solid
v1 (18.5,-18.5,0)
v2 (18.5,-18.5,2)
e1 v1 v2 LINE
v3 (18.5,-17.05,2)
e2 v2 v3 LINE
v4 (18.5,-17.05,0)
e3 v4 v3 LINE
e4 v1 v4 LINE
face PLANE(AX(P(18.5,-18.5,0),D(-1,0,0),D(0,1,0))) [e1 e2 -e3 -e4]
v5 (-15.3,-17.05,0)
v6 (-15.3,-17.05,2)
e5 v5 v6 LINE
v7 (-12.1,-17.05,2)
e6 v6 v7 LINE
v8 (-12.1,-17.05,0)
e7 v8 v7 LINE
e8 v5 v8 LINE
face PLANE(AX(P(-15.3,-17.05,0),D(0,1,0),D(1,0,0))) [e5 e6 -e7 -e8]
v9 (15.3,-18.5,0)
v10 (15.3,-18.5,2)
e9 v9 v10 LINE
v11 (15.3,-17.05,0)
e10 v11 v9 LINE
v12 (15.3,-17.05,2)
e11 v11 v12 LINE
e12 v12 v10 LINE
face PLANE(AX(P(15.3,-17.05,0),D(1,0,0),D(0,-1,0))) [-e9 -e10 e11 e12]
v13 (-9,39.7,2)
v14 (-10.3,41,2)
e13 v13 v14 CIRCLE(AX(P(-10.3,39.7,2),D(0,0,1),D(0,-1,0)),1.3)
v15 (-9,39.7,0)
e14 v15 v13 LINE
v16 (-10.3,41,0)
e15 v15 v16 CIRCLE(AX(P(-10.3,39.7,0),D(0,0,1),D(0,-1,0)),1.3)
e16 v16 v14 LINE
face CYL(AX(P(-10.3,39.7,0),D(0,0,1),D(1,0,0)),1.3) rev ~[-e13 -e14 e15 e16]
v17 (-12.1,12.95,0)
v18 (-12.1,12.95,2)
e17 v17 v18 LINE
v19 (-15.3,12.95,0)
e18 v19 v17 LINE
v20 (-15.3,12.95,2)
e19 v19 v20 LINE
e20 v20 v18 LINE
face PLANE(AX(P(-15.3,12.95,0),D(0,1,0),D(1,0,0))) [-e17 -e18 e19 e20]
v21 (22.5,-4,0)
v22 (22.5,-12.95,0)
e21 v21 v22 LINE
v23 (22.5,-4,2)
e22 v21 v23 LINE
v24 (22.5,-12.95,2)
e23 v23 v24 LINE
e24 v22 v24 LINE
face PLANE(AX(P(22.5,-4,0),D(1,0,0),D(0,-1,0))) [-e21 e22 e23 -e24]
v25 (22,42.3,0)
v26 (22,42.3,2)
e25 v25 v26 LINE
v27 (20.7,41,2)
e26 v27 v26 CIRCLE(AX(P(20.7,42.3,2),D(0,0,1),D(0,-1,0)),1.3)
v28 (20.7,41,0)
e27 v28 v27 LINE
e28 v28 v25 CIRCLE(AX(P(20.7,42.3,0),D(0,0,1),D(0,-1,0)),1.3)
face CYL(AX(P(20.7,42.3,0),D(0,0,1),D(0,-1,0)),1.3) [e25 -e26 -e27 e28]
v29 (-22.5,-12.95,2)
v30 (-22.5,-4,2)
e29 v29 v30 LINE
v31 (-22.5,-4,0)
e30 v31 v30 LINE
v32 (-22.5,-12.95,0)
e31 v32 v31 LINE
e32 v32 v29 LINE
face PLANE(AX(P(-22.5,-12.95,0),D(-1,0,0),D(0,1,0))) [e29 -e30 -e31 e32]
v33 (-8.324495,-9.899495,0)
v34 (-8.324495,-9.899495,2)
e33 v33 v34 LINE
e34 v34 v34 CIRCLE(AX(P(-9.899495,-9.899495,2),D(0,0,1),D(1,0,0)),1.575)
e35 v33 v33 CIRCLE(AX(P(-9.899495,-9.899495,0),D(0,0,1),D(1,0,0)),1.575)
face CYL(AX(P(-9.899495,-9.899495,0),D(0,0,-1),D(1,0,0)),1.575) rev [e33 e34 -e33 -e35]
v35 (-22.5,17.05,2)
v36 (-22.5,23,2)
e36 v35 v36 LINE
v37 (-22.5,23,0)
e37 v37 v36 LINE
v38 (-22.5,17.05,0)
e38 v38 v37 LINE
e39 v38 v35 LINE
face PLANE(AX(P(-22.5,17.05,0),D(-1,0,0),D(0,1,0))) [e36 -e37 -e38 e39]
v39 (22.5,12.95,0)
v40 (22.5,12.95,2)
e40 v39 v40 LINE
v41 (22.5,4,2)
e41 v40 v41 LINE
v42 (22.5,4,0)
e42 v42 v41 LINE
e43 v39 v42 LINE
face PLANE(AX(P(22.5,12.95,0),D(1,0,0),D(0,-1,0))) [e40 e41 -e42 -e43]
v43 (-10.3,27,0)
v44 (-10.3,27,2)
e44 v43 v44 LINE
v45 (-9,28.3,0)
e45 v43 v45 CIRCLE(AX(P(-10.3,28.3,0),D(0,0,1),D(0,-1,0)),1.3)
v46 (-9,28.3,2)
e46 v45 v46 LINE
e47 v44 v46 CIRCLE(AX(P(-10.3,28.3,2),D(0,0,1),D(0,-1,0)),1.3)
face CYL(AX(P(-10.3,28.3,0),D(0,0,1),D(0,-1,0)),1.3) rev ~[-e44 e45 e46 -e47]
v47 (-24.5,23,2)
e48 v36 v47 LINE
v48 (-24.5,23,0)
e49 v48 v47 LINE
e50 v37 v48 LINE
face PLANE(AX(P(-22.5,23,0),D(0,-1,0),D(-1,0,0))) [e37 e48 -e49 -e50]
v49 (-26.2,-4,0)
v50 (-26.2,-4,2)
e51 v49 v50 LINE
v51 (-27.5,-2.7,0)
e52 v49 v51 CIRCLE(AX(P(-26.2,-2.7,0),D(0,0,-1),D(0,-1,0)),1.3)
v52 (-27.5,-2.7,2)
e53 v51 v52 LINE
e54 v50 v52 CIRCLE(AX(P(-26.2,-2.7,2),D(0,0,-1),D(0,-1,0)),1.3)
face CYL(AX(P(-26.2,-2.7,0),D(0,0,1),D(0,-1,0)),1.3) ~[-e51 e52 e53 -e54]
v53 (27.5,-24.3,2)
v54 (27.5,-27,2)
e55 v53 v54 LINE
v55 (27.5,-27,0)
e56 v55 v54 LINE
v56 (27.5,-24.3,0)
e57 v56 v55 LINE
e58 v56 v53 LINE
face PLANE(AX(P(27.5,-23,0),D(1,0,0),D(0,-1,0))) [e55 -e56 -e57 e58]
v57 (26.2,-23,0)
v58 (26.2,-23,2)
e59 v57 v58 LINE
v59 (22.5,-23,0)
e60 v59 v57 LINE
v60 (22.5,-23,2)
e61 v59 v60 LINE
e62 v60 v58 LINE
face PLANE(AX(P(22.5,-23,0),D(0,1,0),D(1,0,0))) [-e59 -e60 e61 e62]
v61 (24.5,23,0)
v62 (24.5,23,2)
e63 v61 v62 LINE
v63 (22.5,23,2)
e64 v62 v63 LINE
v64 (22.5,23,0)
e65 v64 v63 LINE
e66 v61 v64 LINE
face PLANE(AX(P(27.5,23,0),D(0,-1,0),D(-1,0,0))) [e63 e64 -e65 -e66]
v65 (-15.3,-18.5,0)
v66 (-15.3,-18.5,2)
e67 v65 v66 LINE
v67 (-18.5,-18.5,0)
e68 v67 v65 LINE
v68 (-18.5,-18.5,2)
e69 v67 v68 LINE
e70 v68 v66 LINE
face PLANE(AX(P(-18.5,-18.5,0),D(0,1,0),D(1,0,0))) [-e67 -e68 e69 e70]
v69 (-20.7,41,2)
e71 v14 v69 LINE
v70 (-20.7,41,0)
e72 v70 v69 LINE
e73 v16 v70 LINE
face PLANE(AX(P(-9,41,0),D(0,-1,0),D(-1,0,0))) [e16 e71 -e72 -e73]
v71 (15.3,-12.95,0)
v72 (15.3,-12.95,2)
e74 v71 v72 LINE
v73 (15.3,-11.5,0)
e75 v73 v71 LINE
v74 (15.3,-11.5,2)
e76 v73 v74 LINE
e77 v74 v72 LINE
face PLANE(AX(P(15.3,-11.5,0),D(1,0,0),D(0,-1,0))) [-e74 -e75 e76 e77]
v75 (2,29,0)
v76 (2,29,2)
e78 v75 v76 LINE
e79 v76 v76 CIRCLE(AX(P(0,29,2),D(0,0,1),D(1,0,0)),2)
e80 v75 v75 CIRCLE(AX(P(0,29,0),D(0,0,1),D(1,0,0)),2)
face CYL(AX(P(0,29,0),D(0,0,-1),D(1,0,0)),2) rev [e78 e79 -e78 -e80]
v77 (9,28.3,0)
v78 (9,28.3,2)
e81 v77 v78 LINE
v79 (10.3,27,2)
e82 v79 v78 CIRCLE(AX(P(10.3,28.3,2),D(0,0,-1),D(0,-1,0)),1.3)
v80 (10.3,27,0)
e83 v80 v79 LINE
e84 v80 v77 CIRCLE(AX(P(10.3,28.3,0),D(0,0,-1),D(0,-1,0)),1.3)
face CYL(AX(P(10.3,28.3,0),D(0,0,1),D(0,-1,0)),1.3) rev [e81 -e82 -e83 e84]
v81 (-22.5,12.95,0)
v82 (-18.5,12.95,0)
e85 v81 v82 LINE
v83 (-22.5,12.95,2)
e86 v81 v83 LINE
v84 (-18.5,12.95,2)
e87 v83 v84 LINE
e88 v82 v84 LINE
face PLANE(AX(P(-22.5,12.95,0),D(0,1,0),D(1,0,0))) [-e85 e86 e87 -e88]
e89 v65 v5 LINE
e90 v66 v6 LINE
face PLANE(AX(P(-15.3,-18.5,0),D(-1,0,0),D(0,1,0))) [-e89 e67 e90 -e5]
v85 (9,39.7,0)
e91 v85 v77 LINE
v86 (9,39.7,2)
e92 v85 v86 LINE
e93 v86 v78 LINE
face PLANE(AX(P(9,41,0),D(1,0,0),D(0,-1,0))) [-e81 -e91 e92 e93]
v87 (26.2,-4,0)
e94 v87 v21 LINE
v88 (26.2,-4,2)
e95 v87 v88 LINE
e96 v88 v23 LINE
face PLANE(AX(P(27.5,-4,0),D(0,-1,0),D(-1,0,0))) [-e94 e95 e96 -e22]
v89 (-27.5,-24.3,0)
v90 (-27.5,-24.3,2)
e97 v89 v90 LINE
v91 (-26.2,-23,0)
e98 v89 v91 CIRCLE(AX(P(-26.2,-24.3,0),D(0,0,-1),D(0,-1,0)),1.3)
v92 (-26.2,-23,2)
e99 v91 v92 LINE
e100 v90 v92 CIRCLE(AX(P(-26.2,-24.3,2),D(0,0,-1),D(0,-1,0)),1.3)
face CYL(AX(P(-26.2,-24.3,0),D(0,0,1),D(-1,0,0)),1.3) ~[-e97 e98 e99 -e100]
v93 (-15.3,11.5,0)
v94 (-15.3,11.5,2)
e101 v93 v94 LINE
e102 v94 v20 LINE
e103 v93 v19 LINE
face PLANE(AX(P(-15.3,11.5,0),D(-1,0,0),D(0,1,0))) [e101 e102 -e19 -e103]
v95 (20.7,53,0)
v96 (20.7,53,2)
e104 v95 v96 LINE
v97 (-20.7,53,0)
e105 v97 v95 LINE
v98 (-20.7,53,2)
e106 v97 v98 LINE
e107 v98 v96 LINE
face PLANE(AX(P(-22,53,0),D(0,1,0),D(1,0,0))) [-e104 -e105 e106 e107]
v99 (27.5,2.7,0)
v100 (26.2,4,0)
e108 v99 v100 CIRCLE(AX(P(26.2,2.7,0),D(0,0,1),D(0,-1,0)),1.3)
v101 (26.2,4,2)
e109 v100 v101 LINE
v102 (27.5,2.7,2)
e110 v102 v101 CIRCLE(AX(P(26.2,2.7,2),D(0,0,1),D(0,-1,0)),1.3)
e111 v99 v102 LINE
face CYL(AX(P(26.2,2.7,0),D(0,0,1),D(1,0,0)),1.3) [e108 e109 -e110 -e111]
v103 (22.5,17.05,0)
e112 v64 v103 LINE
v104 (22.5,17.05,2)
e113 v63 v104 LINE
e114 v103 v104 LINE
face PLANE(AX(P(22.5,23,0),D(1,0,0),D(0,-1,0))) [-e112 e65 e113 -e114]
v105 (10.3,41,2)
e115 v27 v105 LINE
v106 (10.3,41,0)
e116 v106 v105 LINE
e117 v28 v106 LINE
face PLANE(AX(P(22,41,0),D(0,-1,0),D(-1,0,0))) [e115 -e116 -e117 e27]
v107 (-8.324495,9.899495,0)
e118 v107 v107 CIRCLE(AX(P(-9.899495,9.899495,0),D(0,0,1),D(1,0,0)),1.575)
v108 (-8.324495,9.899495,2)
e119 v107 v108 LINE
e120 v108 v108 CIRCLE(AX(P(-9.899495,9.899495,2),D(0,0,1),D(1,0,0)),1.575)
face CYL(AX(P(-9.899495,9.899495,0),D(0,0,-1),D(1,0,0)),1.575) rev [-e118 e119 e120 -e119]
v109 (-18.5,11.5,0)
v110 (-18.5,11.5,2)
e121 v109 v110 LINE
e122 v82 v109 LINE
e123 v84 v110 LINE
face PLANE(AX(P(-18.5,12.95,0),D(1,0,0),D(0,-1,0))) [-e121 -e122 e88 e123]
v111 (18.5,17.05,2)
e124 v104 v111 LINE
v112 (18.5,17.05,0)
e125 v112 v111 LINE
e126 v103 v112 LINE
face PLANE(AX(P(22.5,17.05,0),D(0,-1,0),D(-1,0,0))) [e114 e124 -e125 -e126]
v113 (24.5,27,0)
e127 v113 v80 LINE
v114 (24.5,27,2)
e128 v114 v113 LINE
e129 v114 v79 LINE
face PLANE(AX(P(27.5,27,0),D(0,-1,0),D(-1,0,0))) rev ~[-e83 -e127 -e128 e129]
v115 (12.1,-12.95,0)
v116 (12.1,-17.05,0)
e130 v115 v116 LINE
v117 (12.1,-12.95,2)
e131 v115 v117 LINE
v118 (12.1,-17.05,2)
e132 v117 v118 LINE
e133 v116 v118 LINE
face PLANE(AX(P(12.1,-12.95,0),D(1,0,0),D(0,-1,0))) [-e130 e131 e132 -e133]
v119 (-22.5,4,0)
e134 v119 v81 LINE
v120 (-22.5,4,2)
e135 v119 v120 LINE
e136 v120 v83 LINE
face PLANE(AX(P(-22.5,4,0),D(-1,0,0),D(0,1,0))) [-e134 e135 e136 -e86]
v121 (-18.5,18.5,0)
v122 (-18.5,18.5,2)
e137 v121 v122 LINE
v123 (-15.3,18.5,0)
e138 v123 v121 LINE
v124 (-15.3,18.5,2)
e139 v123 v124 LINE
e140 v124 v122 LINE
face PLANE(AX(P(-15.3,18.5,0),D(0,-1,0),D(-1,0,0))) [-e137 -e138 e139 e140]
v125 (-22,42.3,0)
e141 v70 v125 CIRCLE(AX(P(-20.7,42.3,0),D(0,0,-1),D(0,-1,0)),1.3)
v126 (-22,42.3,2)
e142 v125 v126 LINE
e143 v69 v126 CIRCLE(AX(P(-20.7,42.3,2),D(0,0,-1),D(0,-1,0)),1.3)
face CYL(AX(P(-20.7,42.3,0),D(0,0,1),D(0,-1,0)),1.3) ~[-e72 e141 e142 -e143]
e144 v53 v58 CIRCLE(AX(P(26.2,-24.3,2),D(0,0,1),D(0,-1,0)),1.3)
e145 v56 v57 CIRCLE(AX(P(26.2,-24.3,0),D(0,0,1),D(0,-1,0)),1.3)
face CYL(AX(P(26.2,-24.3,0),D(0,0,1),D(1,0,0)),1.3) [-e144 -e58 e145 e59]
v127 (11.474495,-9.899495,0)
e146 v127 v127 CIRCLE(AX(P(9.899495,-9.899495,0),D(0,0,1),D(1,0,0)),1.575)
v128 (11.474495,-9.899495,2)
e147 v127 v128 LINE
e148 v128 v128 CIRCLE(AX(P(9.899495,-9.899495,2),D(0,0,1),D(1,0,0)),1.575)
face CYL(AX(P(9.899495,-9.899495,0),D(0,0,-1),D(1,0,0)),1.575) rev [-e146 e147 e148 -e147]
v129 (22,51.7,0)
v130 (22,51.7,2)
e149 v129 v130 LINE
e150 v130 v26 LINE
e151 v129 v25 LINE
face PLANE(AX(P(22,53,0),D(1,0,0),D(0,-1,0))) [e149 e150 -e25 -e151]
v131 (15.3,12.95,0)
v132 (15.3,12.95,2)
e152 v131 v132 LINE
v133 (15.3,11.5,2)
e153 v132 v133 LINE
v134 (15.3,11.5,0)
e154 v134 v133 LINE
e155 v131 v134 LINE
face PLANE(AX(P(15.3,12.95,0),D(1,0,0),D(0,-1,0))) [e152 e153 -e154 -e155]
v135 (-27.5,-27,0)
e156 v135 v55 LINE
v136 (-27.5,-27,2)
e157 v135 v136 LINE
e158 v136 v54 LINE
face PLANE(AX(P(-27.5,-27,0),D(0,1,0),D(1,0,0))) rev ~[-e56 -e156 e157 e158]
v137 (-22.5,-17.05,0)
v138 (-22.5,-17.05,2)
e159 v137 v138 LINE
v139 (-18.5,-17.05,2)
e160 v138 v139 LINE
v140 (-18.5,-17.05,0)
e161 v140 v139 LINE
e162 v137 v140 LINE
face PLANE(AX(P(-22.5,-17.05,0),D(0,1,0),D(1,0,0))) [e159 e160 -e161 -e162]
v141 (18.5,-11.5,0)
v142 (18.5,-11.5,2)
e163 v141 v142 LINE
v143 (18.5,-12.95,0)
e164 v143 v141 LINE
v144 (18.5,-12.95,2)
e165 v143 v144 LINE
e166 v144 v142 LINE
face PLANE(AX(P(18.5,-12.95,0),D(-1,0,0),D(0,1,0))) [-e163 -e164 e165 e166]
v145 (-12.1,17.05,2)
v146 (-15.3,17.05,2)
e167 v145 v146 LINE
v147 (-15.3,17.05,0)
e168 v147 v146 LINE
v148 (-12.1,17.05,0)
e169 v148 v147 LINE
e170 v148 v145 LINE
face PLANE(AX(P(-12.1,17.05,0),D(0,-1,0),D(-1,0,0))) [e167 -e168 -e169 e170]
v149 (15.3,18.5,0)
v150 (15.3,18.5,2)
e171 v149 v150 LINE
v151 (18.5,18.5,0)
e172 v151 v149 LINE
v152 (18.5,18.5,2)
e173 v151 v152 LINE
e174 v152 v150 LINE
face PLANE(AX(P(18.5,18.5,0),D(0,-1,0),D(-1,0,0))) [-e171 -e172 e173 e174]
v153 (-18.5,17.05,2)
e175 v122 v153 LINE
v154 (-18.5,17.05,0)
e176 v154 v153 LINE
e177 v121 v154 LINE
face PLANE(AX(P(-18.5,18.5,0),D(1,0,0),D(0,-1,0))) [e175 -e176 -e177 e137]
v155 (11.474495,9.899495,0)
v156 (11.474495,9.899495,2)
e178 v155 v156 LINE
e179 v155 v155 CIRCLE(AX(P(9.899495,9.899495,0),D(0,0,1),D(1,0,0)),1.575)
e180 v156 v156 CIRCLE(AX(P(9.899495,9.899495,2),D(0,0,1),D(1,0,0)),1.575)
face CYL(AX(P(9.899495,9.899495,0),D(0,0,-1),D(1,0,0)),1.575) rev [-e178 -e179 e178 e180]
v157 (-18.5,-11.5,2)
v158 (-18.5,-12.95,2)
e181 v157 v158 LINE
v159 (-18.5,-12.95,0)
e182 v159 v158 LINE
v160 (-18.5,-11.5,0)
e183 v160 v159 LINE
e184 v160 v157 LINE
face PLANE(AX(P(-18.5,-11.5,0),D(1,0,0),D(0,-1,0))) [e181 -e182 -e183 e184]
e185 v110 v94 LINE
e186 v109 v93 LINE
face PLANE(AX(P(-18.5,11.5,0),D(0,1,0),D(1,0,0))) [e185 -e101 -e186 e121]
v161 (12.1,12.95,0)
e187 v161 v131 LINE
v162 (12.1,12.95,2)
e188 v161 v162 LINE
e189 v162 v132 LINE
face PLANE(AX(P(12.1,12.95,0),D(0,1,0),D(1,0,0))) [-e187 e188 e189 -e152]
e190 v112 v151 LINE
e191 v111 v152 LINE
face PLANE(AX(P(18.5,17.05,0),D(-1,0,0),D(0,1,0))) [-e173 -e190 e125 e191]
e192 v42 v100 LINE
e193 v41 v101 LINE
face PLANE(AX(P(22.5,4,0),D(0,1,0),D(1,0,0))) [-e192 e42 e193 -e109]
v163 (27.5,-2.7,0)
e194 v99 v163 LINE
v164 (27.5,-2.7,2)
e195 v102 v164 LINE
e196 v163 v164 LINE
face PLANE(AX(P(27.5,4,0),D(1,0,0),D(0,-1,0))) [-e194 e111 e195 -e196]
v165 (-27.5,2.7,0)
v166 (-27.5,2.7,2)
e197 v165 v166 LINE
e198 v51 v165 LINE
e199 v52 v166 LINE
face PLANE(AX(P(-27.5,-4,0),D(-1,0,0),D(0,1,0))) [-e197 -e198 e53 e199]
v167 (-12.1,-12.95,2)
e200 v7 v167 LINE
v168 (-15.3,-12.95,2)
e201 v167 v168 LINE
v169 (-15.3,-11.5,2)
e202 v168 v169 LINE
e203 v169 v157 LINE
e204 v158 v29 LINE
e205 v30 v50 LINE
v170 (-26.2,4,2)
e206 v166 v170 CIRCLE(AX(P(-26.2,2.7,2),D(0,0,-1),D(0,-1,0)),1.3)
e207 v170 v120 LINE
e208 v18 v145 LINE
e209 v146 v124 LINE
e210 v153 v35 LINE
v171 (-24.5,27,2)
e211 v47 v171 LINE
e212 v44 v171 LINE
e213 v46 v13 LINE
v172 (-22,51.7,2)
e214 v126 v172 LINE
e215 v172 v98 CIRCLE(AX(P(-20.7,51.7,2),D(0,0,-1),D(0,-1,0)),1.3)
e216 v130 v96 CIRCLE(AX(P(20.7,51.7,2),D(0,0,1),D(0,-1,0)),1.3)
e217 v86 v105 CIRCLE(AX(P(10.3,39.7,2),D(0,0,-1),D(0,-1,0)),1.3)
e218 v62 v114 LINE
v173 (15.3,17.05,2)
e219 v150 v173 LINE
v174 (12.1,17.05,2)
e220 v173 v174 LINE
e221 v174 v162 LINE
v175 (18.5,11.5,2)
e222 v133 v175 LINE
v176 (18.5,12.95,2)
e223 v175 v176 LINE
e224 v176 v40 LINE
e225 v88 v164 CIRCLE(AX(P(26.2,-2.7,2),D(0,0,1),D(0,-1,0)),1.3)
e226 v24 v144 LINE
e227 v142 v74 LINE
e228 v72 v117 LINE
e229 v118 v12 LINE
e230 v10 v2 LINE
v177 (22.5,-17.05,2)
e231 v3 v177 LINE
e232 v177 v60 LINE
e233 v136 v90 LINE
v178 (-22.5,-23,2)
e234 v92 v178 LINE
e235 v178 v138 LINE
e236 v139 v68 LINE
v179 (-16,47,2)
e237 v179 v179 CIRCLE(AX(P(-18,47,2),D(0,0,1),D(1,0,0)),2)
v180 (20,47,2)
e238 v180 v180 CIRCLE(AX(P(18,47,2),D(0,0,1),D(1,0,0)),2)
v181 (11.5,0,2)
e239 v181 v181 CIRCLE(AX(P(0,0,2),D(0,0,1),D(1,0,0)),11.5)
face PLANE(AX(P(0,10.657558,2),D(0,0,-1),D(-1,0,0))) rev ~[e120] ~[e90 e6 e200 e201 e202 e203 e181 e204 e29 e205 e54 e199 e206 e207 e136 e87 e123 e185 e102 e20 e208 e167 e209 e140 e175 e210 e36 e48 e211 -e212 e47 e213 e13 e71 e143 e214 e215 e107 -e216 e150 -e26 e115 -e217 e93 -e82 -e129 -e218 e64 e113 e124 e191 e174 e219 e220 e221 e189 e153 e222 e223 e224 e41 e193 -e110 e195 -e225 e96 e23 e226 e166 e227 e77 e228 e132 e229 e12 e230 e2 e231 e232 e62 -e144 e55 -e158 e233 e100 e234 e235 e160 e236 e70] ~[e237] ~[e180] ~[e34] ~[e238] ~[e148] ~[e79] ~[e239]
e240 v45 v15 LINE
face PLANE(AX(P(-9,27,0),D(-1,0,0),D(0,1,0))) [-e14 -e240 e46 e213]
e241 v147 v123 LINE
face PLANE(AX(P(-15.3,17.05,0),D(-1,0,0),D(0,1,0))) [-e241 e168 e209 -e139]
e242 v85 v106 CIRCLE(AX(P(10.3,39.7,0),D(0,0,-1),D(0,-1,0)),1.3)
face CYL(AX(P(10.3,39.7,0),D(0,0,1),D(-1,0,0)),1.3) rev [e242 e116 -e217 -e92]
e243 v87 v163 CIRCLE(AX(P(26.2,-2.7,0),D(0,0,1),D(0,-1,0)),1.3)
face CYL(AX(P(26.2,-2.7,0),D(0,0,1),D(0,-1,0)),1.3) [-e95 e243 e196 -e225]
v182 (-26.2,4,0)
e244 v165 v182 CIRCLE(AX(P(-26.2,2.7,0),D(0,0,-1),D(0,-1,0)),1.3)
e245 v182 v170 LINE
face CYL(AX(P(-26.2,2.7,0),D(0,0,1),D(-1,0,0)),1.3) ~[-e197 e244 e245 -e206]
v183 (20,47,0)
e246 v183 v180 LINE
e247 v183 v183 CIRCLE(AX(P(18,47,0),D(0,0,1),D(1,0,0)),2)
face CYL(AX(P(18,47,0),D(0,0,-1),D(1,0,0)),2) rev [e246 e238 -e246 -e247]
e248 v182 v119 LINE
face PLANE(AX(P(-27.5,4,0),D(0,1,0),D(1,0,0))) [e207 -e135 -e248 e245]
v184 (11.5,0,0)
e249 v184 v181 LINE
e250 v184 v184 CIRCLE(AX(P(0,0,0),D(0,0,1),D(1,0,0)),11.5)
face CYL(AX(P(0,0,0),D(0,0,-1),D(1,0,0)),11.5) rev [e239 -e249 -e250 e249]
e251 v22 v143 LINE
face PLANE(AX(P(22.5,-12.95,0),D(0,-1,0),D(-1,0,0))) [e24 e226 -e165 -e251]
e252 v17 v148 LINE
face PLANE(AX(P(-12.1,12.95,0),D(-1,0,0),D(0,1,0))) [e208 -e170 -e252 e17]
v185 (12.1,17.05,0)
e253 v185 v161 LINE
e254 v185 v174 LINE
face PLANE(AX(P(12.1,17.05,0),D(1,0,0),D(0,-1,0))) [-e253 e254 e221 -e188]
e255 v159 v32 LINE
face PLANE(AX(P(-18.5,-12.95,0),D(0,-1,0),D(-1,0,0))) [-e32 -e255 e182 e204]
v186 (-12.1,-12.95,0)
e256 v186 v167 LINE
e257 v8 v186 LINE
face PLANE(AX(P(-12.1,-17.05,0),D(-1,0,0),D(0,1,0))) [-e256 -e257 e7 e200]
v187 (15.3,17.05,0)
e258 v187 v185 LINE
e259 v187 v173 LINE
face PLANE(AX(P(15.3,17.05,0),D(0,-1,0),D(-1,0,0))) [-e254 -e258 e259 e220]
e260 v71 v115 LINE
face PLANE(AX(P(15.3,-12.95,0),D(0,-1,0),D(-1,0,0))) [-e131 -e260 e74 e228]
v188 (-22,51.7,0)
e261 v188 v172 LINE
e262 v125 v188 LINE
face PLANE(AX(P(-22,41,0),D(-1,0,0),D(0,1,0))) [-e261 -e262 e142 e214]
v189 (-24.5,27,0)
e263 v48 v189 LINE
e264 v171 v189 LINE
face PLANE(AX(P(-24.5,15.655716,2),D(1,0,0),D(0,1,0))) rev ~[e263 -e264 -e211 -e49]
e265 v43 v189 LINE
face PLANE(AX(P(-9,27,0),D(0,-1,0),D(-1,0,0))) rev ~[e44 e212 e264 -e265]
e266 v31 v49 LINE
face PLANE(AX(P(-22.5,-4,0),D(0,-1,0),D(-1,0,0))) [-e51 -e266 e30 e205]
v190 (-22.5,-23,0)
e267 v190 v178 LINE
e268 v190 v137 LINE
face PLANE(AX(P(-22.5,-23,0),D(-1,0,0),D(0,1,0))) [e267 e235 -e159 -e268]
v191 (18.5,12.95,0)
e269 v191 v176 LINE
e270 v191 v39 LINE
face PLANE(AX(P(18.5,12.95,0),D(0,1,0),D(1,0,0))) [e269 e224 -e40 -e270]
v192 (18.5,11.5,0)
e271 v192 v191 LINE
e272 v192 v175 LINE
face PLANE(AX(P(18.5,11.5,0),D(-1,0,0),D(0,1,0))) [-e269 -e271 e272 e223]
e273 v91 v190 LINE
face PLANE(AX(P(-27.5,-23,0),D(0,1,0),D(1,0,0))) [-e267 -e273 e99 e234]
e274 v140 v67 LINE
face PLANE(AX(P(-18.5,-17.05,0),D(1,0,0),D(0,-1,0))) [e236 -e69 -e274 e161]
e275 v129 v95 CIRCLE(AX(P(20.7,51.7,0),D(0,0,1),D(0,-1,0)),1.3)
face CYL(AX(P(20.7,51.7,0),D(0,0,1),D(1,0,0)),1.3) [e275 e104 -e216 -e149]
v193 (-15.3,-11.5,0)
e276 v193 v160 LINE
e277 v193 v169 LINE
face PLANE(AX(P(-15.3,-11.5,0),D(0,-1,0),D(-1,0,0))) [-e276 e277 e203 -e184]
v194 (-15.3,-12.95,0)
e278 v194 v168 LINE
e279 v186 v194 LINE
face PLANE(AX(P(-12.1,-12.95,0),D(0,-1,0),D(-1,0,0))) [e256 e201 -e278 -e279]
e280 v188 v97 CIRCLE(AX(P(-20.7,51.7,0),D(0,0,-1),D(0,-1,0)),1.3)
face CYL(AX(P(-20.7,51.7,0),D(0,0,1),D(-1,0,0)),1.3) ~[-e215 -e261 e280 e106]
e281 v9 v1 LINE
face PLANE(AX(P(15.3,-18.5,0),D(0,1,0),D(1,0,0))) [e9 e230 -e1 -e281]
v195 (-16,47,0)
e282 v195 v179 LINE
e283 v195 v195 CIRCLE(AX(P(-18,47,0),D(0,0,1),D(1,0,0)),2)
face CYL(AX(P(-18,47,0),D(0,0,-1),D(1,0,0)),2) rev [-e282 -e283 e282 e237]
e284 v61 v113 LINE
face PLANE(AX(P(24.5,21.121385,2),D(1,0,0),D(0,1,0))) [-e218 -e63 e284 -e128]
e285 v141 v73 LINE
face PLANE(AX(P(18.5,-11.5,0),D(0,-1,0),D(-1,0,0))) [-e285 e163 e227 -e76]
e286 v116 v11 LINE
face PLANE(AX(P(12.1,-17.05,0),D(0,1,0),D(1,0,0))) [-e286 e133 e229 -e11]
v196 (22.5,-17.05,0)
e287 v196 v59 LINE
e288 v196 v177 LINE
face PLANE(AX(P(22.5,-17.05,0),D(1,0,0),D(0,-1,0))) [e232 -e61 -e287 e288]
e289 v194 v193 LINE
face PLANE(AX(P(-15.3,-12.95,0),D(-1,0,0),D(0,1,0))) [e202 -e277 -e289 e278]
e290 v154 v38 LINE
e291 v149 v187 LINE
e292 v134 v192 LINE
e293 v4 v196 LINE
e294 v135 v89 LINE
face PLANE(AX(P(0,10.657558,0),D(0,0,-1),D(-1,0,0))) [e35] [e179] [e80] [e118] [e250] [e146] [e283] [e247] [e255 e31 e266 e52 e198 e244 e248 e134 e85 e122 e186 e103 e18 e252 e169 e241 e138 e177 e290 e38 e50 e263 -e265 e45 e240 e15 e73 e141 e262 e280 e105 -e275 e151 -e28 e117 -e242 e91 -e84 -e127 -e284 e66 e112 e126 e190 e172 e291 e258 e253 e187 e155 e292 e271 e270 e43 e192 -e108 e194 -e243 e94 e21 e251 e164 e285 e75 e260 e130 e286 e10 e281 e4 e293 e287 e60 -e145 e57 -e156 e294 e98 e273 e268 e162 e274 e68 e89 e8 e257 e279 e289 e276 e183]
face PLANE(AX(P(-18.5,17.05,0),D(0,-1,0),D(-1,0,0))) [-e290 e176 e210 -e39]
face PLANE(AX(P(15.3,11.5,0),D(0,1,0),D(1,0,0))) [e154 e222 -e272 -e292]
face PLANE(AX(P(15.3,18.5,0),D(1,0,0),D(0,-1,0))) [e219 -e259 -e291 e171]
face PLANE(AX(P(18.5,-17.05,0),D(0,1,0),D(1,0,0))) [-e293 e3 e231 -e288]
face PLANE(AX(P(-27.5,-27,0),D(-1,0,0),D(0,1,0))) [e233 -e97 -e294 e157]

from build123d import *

# Parameters (mm, degrees)
SKETCH_1_R          = 1.575
SKETCH_1_R_2        = 11.5
SKETCH_1_R_3        = 2
EXTRUDE_1_DEPTH     = 2
FILLET_1_R          = 1.3
SKETCH_4_W          = 3
SKETCH_4_H          = 5.878615105
SKETCH_4_H_2        = 11.344283934
CUT_EXTRUDE_1_DEPTH = 2


with BuildPart() as part:
    # 草图1 → 凸台-拉伸1 (new body)
    with BuildSketch(Plane.XY):
        Polygon((22.5, -27), (-22.5, -27), (-27.5, -27), (-27.5, -23), (-22.5, -23), (-22.5, -17.05), (-18.5, -17.05), (-18.5, -18.5), (-15.3, -18.5), (-15.3, -17.05), (-12.1, -17.05), (-12.1, -12.95), (-15.3, -12.95), (-15.3, -11.5), (-18.5, -11.5), (-18.5, -12.95), (-22.5, -12.95), (-22.5, -4), (-27.5, -4), (-27.5, 4), (-22.5, 4), (-22.5, 12.95), (-18.5, 12.95), (-18.5, 11.5), (-15.3, 11.5), (-15.3, 12.95), (-12.1, 12.95), (-12.1, 17.05), (-15.3, 17.05), (-15.3, 18.5), (-18.5, 18.5), (-18.5, 17.05), (-22.5, 17.05), (-22.5, 23), (-27.5, 23), (-27.5, 27), (-22.5, 27), (-9, 27), (-9, 41), (-22, 41), (-22, 53), (22, 53), (22, 41), (9, 41), (9, 27), (22.5, 27), (27.5, 27), (27.5, 23), (22.5, 23), (22.5, 17.05), (18.5, 17.05), (18.5, 18.5), (15.3, 18.5), (15.3, 17.05), (12.1, 17.05), (12.1, 12.95), (15.3, 12.95), (15.3, 11.5), (18.5, 11.5), (18.5, 12.95), (22.5, 12.95), (22.5, 4), (27.5, 4), (27.5, -4), (22.5, -4), (22.5, -12.95), (18.5, -12.95), (18.5, -11.5), (15.3, -11.5), (15.3, -12.95), (12.1, -12.95), (12.1, -17.05), (15.3, -17.05), (15.3, -18.5), (18.5, -18.5), (18.5, -17.05), (22.5, -17.05), (22.5, -23), (27.5, -23), (27.5, -27), align=None)
        with Locations((9.899494937, 9.899494937)):
            Circle(SKETCH_1_R, mode=Mode.SUBTRACT)
        Circle(SKETCH_1_R_2, mode=Mode.SUBTRACT)
        with Locations((9.899494937, -9.899494937)):
            Circle(SKETCH_1_R, mode=Mode.SUBTRACT)
        with Locations((-9.899494937, -9.899494937)):
            Circle(SKETCH_1_R, mode=Mode.SUBTRACT)
        with Locations((-9.899494937, 9.899494937)):
            Circle(SKETCH_1_R, mode=Mode.SUBTRACT)
        with Locations((-18, 47)):
            Circle(SKETCH_1_R_3, mode=Mode.SUBTRACT)
        with Locations((18, 47)):
            Circle(SKETCH_1_R_3, mode=Mode.SUBTRACT)
        with Locations((0, 29)):
            Circle(SKETCH_1_R_3, mode=Mode.SUBTRACT)
    extrude(amount=EXTRUDE_1_DEPTH)

    # 圆角1
    fillet_1_edges = [part.edges().sort_by_distance(p)[0] for p in [
        (-9, 27, 1),
        (-9, 41, 1),
        (-22, 41, 1),
        (-22, 53, 1),
        (22, 53, 1),
        (22, 41, 1),
        (9, 41, 1),
        (9, 27, 1),
        (27.5, 23, 1),
        (27.5, 4, 1),
        (27.5, -4, 1),
        (27.5, -23, 1),
        (-27.5, -23, 1),
        (-27.5, -4, 1),
        (-27.5, 4, 1),
        (-27.5, 23, 1),
    ]]
    fillet(fillet_1_edges, radius=FILLET_1_R)

    # 草图4 → 切除-拉伸1 (cut)
    with BuildSketch(Plane.XY.offset(2)):
        with Locations((26, 24.060692448)):
            Rectangle(SKETCH_4_W, SKETCH_4_H)
        with Locations((-26, 21.327858033)):
            Rectangle(SKETCH_4_W, SKETCH_4_H_2)
    extrude(amount=-CUT_EXTRUDE_1_DEPTH, mode=Mode.SUBTRACT)


solid = part.part
